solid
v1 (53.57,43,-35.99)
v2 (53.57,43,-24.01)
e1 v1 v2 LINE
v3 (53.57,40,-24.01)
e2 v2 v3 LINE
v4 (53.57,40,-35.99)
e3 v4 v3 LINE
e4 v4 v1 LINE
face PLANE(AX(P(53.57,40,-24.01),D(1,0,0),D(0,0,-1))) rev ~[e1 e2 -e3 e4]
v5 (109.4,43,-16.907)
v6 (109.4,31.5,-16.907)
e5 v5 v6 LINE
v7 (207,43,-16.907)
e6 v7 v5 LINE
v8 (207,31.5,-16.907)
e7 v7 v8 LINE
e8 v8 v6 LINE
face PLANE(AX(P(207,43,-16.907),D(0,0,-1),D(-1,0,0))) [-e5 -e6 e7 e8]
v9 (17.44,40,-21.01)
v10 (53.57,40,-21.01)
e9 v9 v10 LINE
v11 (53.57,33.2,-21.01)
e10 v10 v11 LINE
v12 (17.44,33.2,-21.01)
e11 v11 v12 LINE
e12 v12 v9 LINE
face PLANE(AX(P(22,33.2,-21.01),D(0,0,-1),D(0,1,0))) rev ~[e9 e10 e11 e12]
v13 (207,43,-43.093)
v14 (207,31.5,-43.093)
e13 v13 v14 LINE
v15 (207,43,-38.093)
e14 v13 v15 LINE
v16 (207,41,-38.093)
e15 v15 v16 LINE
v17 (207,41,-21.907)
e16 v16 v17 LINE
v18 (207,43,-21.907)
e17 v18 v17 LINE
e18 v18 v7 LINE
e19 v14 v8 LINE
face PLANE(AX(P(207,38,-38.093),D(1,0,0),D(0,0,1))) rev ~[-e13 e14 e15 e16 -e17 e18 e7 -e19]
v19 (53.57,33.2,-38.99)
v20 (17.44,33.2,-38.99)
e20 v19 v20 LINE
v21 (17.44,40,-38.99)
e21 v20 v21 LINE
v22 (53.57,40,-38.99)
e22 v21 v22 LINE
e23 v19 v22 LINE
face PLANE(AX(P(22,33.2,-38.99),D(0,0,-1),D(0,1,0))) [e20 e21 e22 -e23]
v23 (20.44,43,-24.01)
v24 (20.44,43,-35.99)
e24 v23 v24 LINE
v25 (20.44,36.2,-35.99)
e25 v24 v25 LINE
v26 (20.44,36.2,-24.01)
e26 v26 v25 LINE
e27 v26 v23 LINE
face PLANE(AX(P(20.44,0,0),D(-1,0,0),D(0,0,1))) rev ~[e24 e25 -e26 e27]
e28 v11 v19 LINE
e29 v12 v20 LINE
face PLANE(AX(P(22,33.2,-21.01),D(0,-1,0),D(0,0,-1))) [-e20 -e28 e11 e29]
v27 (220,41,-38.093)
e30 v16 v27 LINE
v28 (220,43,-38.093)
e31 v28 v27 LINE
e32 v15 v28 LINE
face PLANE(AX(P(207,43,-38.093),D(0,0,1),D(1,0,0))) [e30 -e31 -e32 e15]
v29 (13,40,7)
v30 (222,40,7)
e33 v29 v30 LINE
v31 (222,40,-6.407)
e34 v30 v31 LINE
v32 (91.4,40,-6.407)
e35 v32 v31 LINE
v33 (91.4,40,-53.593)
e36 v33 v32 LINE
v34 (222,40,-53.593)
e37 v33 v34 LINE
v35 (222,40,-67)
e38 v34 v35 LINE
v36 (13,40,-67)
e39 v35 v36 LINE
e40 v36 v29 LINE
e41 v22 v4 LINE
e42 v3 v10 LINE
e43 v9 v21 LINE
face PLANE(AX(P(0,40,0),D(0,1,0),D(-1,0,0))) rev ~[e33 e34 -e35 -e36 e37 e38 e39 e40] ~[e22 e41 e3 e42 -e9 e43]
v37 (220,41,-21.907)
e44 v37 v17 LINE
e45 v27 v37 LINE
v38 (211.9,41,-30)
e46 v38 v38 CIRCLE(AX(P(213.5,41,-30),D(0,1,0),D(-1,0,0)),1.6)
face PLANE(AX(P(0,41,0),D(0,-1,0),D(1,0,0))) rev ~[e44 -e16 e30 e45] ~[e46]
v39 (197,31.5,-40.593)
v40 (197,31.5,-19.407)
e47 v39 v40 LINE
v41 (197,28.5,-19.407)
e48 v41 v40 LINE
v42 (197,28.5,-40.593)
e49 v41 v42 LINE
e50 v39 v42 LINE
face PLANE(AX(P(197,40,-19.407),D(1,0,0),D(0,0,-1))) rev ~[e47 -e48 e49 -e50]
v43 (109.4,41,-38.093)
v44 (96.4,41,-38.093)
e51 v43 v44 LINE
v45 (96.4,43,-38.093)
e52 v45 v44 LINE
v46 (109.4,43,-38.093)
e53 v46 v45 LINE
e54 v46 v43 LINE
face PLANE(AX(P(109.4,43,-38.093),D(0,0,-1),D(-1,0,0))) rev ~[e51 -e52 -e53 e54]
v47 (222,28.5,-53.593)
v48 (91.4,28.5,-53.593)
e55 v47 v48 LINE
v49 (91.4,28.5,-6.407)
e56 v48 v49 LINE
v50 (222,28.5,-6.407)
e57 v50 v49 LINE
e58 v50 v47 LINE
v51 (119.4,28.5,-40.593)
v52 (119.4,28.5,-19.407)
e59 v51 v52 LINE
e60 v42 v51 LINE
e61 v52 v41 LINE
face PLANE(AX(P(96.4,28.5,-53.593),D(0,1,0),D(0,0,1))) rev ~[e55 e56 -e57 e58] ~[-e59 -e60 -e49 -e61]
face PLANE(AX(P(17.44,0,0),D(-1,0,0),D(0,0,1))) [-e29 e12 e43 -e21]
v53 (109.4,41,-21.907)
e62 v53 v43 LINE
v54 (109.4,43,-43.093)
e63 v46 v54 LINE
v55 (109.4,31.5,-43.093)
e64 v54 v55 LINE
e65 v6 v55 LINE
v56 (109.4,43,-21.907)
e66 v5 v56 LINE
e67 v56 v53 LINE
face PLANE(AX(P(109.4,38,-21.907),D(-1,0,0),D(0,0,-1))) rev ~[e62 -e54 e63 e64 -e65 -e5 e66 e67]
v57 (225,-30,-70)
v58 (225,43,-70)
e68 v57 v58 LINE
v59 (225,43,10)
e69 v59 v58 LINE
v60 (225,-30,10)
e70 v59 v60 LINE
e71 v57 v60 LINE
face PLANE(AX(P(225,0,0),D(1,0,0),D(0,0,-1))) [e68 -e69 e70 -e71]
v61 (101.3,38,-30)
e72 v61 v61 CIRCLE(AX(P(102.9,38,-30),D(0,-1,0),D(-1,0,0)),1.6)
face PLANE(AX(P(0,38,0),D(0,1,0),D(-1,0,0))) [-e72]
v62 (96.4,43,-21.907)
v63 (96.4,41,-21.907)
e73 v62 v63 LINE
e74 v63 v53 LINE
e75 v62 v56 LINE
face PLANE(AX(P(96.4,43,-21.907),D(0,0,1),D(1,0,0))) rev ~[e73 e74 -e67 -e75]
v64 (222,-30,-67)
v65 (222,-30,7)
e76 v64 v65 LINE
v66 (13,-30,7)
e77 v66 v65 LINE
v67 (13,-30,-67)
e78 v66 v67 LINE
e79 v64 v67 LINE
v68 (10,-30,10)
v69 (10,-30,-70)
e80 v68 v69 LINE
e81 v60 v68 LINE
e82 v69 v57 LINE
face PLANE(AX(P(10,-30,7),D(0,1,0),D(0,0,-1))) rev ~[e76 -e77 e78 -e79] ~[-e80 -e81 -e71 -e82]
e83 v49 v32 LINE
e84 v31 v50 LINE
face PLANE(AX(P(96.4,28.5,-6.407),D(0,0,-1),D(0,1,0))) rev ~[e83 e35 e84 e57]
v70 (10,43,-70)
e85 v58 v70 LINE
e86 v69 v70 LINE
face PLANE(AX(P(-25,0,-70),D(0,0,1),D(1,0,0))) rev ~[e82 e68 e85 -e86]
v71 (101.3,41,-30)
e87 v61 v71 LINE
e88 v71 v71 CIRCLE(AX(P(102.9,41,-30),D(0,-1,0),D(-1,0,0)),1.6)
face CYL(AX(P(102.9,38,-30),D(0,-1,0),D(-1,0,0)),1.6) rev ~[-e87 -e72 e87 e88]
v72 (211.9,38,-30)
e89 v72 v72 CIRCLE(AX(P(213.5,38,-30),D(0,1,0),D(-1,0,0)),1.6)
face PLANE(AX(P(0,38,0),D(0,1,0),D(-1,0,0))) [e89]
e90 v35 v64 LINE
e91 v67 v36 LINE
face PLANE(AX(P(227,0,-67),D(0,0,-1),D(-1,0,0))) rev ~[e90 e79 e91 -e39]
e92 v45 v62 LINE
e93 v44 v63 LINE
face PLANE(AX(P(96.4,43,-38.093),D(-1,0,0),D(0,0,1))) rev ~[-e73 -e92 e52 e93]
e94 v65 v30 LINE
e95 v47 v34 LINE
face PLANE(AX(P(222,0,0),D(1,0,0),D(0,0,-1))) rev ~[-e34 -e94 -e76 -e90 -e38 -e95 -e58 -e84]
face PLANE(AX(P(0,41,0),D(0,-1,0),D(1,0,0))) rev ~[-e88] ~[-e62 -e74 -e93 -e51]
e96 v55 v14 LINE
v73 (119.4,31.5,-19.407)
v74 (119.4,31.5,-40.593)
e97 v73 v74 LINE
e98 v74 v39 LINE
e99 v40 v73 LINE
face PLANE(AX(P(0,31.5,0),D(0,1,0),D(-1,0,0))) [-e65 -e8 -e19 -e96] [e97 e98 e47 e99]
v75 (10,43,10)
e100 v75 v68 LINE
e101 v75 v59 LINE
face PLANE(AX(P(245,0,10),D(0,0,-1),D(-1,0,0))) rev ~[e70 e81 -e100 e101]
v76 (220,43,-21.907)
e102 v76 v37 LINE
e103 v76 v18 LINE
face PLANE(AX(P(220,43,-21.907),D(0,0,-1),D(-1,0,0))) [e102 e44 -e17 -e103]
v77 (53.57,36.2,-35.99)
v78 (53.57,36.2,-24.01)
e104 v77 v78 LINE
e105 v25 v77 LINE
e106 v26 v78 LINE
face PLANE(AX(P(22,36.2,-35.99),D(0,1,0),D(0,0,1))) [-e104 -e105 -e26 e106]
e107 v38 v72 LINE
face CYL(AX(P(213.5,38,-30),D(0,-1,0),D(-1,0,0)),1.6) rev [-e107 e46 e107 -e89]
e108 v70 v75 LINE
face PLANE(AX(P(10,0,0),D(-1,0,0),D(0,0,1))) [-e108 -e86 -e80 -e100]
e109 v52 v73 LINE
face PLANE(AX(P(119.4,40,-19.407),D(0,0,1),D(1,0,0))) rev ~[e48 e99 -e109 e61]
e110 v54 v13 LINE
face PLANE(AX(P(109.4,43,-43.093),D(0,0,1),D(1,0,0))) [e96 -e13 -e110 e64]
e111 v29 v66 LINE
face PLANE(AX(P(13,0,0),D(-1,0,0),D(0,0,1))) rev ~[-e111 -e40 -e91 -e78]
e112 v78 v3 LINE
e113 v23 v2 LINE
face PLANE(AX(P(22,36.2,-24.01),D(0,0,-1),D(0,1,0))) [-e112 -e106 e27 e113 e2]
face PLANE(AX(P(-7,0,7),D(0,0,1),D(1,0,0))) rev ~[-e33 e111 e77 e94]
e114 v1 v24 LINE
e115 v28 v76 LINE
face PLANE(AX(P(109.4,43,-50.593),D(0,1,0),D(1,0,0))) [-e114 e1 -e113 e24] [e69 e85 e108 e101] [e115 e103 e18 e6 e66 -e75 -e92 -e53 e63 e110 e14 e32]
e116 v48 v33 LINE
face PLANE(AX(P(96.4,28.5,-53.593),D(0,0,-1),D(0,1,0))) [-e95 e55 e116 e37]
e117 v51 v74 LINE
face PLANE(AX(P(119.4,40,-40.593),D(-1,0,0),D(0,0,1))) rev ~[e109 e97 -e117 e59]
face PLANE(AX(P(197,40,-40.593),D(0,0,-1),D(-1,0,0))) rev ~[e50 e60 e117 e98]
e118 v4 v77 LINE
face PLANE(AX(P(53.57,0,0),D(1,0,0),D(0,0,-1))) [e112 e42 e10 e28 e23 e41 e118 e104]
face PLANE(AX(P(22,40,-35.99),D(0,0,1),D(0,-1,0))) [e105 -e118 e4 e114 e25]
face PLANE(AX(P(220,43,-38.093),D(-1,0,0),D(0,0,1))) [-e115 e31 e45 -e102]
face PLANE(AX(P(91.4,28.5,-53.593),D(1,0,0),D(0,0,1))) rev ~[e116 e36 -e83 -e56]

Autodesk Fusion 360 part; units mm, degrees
sketch "Boceto1" plane through (0, 0, 0) normal (0, 1, 0) x (1, 0, 0)
  line L0 (0, 0) -> (220, 0)
  line L1 (220, 0) -> (220, 60)
  line L2 (220, 60) -> (0, 60)
  line L3 (0, 60) -> (0, 0)
  line L4 (227, -7) -> (227, 67)
  line L5 (227, 67) -> (-7, 67)
  line L6 (-7, 67) -> (-7, -7)
  line L7 (-7, -7) -> (227, -7)
  line L8 (217, 3) -> (217, 57)
  line L9 (217, 57) -> (3, 57)
  line L10 (3, 57) -> (3, 3)
  line L11 (3, 3) -> (217, 3)
  dimension "d1" = 220
  dimension "d2" = 60
  dimension "d3" = 7
  dimension "d4" = -3
extrude "Extruir1" add sketch "Boceto1" along normal blind 3 contours L4 L5 L6 L7
sketch "Boceto2" plane through (0, 0, 0) normal (0, 1, 0) x (1, 0, 0)
  line L0 (0, 0) -> (220, 0)
  line L1 (220, 0) -> (220, 60)
  line L2 (220, 60) -> (0, 60)
  line L3 (0, 60) -> (0, 0)
  line L4 (3, 3) -> (217, 3)
  line L5 (217, 3) -> (217, 57)
  line L6 (217, 57) -> (3, 57)
  line L7 (3, 57) -> (3, 3)
  dimension "d7" = -3
extrude "Extruir2" add sketch "Boceto2" along normal blind 40
sketch "Boceto3" plane through (0, 40, 0) normal (0, 1, 0) x (-1, 0, 0)
  line L0 (-3, -3) -> (-3, -57)
  line L1 (-3, -57) -> (-217, -57)
  line L2 (-217, -57) -> (-217, -3)
  line L3 (-217, -3) -> (-3, -3)
  line L4 (0, -60) -> (0, 0)
  line L5 (0, 0) -> (-220, 0)
  line L6 (-220, 0) -> (-220, -60)
  line L7 (-220, -60) -> (0, -60)
  line L8 (0, 0) -> (-220, 0)
  line L9 (-220, 0) -> (-220, -60)
  line L10 (-220, -60) -> (0, -60)
  line L11 (0, -60) -> (0, 0)
  line L12 (0, 0) -> (-220, 0)
  line L13 (-220, 0) -> (-220, -60)
  line L14 (-220, -60) -> (0, -60)
  line L15 (0, -60) -> (0, 0)
extrude "Extruir3" add sketch "Boceto3" along normal blind 3 contours L0 L1 L2 L3 | L4 L5 L6 L7 L8 L9 L10 L11 L12 L13 L14 L15
sketch "Boceto4" plane through (0, 43, 0) normal (0, 1, 0) x (-1, 0, 0)
  line L0 (0, -60) -> (0, 0)
  line L1 (0, 0) -> (-220, 0)
  line L2 (-220, 0) -> (-220, -60)
  line L3 (-220, -60) -> (0, -60)
  line L4 (-25, -35.99) -> (-53.57, -35.99)
  line L5 (-53.57, -35.99) -> (-53.57, -24.01)
  line L6 (-53.57, -24.01) -> (-25, -24.01)
  line L7 (-25, -24.01) -> (-25, -35.99)
  dimension "d15" = 28.57
  dimension "d16" = 11.98
extrude "Extruir4" cut sketch "Boceto4" against normal blind 3 contours L4 L5 L6 L7
sketch "Boceto5" plane through (0, 43, 0) normal (0, 1, 0) x (-1, 0, 0)
  line L0 (-53.57, -35.99) -> (-53.57, -24.01)
  line L1 (-53.57, -24.01) -> (-25, -24.01)
  line L2 (-25, -24.01) -> (-25, -35.99)
  line L3 (-25, -35.99) -> (-53.57, -35.99)
  line L4 (0, -60) -> (0, 0)
  line L5 (0, 0) -> (-220, 0)
  line L6 (-220, 0) -> (-220, -60)
  line L7 (-220, -60) -> (0, -60)
  line L8 (-197, -40.593) -> (-119.4, -40.593)
  line L9 (-119.4, -40.593) -> (-119.4, -19.407)
  line L10 (-119.4, -19.407) -> (-197, -19.407)
  line L11 (-197, -19.407) -> (-197, -40.593)
  point P0 (-220, -30)
  point P1 (-197, -40.593)
  dimension "d22" = 77.6
  dimension "d23" = 21.186
extrude "Extruir5" cut sketch "Boceto5" against normal blind 3 contours L8 L9 L10 L11
sketch "Boceto6" plane through (0, 40, 0) normal (0, -1, 0) x (1, 0, 0)
  line L0 (197, -40.593) -> (119.4, -40.593)
  line L1 (119.4, -40.593) -> (119.4, -19.407)
  line L2 (119.4, -19.407) -> (197, -19.407)
  line L3 (197, -19.407) -> (197, -40.593)
  line L4 (53.57, -24.01) -> (53.57, -35.99)
  line L5 (53.57, -35.99) -> (25, -35.99)
  line L6 (25, -35.99) -> (25, -24.01)
  line L7 (25, -24.01) -> (53.57, -24.01)
  line L8 (217, -3) -> (3, -3)
  line L9 (3, -3) -> (3, -57)
  line L10 (3, -57) -> (217, -57)
  line L11 (217, -57) -> (217, -3)
  line L12 (200, -43.593) -> (116.4, -43.593)
  line L13 (116.4, -43.593) -> (116.4, -16.407)
  line L14 (116.4, -16.407) -> (200, -16.407)
  line L15 (200, -16.407) -> (200, -43.593)
  dimension "d26" = -3
extrude "Extruir6" add sketch "Boceto6" along normal blind 11.5 contours L12 L13 L14 L15
sketch "Boceto7" plane through (0, 43, 0) normal (0, 1, 0) x (-1, 0, 0)
  line L0 (-119.4, -40.593) -> (-197, -40.593)
  line L1 (-197, -40.593) -> (-197, -19.407)
  line L2 (-197, -19.407) -> (-119.4, -19.407)
  line L3 (-119.4, -19.407) -> (-119.4, -40.593)
  line L4 (-53.57, -35.99) -> (-53.57, -24.01)
  line L5 (-53.57, -24.01) -> (-25, -24.01)
  line L6 (-25, -24.01) -> (-25, -35.99)
  line L7 (-25, -35.99) -> (-53.57, -35.99)
  line L8 (0, -60) -> (0, 0)
  line L9 (0, 0) -> (-220, 0)
  line L10 (-220, 0) -> (-220, -60)
  line L11 (-220, -60) -> (0, -60)
  line L12 (0, 0) -> (-220, 0)
  line L13 (-220, 0) -> (-220, -60)
  line L14 (-220, -60) -> (0, -60)
  line L15 (0, -60) -> (0, 0)
  line L16 (-230, -70) -> (10, -70)
  line L17 (10, -70) -> (10, 10)
  line L18 (10, 10) -> (-230, 10)
  line L19 (-230, 10) -> (-230, -70)
  dimension "d29" = 10
extrude "Extruir7" add sketch "Boceto7" against normal blind 43 contours L16 L17 L18 L19
sketch "Boceto8" plane through (0, 43, 0) normal (0, 1, 0) x (-1, 0, 0)
  line L0 (-230, 10) -> (-230, -70)
  line L1 (-230, -70) -> (10, -70)
  line L2 (10, -70) -> (10, 10)
  line L3 (10, 10) -> (-230, 10)
  line L4 (-119.4, -40.593) -> (-197, -40.593)
  line L5 (-197, -40.593) -> (-197, -19.407)
  line L6 (-197, -19.407) -> (-119.4, -19.407)
  line L7 (-119.4, -19.407) -> (-119.4, -40.593)
  line L8 (-53.57, -35.99) -> (-53.57, -24.01)
  line L9 (-53.57, -24.01) -> (-25, -24.01)
  line L10 (-25, -24.01) -> (-25, -35.99)
  line L11 (-25, -35.99) -> (-53.57, -35.99)
sketch "Boceto9" plane through (0, 0, 0) normal (0, -1, 0) x (1, 0, 0)
  line L0 (230, -70) -> (230, 10)
  line L1 (230, 10) -> (-10, 10)
  line L2 (-10, 10) -> (-10, -70)
  line L3 (-10, -70) -> (230, -70)
  line L4 (3, -57) -> (3, -3)
  line L5 (3, -3) -> (217, -3)
  line L6 (217, -3) -> (217, -57)
  line L7 (217, -57) -> (3, -57)
  line L8 (-10, 10) -> (-7, 10)
  line L9 (-7, 10) -> (-7, 7)
  line L10 (-7, 7) -> (-10, 7)
  line L11 (-10, 7) -> (-10, 10)
  line L12 (230, -70) -> (227, -70)
  line L13 (227, -70) -> (227, -67)
  line L14 (227, -67) -> (230, -67)
  line L15 (230, -67) -> (230, -70)
  line L16 (-7, 7) -> (227, 7)
  line L17 (227, 7) -> (227, -67)
  line L18 (227, -67) -> (-7, -67)
  line L19 (-7, -67) -> (-7, 7)
  dimension "d32" = 3
  dimension "d33" = 3
  dimension "d34" = 3
  dimension "d35" = 3
extrude "Extruir8" cut sketch "Boceto9" against normal blind 40 contours L16 L17 L18 L19
sketch "Boceto10" plane through (0, 40, 0) normal (0, -1, 0) x (1, 0, 0)
  line L0 (-7, -67) -> (227, -67)
  line L1 (227, -67) -> (227, 7)
  line L2 (227, 7) -> (-7, 7)
  line L3 (-7, 7) -> (-7, -67)
  line L4 (200, -16.407) -> (200, -43.593)
  line L5 (200, -43.593) -> (116.4, -43.593)
  line L6 (116.4, -43.593) -> (116.4, -16.407)
  line L7 (116.4, -16.407) -> (200, -16.407)
  line L8 (53.57, -24.01) -> (53.57, -35.99)
  line L9 (53.57, -35.99) -> (25, -35.99)
  line L10 (25, -35.99) -> (25, -24.01)
  line L11 (25, -24.01) -> (53.57, -24.01)
  line L12 (56.57, -38.99) -> (22, -38.99)
  line L13 (22, -38.99) -> (22, -21.01)
  line L14 (22, -21.01) -> (56.57, -21.01)
  line L15 (56.57, -21.01) -> (56.57, -38.99)
  dimension "d38" = -3
extrude "Extruir9" add sketch "Boceto10" along normal blind 3.8 contours L12 L13 L14 L15
sketch "Boceto11" plane through (0, 36.2, 0) normal (0, -1, 0) x (1, 0, 0)
  line L0 (25, -35.99) -> (25, -24.01)
  line L1 (25, -24.01) -> (53.57, -24.01)
  line L2 (53.57, -24.01) -> (53.57, -35.99)
  line L3 (53.57, -35.99) -> (25, -35.99)
  line L4 (56.57, -21.01) -> (22, -21.01)
  line L5 (22, -21.01) -> (22, -38.99)
  line L6 (22, -38.99) -> (56.57, -38.99)
  line L7 (56.57, -38.99) -> (56.57, -21.01)
  line L8 (22, -21.01) -> (56.57, -21.01)
  line L9 (56.57, -21.01) -> (56.57, -38.99)
  line L10 (56.57, -38.99) -> (22, -38.99)
  line L11 (22, -38.99) -> (22, -21.01)
extrude "Extruir10" add sketch "Boceto11" along normal blind 3 contours L0 L1 L2 L3 | L4 L5 L6 L7 L8 L9 L10 L11
sketch "Boceto12" plane through (56.57, 0, 0) normal (1, 0, 0) x (0, 0, -1)
  line L0 (38.99, 40) -> (21.01, 40)
  line L1 (21.01, 40) -> (21.01, 33.2)
  line L2 (21.01, 33.2) -> (38.99, 33.2)
  line L3 (38.99, 33.2) -> (38.99, 40)
  line L4 (21.01, 40) -> (24.01, 40)
  line L5 (38.99, 40) -> (35.99, 40)
  line L6 (24.01, 40) -> (35.99, 40)
  line L7 (35.99, 40) -> (35.99, 36.2)
  line L8 (35.99, 36.2) -> (24.01, 36.2)
  line L9 (24.01, 36.2) -> (24.01, 40)
  dimension "d43" = 3
  dimension "d44" = 3
  dimension "d45" = 11.98
  dimension "d46" = 3.8
extrude "Extruir11" cut sketch "Boceto12" against normal blind 3 contours L0 L6 L7 L8 L9
sketch "Boceto13" plane through (56.57, 0, 0) normal (1, 0, 0) x (0, 0, -1)
  line L0 (24.01, 36.2) -> (24.01, 40)
  line L1 (24.01, 40) -> (21.01, 40)
  line L2 (21.01, 40) -> (21.01, 33.2)
  line L3 (21.01, 33.2) -> (38.99, 33.2)
  line L4 (38.99, 33.2) -> (38.99, 40)
  line L5 (38.99, 40) -> (35.99, 40)
  line L6 (35.99, 40) -> (35.99, 36.2)
  line L7 (35.99, 36.2) -> (24.01, 36.2)
  line L8 (21.01, 40) -> (38.99, 40)
  line L9 (38.99, 40) -> (38.99, 33.2)
  line L10 (38.99, 33.2) -> (21.01, 33.2)
  line L11 (21.01, 33.2) -> (21.01, 40)
extrude "Extruir12" cut sketch "Boceto13" against normal blind 3 contours L0 L1 L2 L3 L4 L5 L6 L7 L8 L9 L10 L11
sketch "Boceto14" plane through (25, 0, 0) normal (1, 0, 0) x (0, 0, -1)
  line L0 (35.99, 43) -> (24.01, 43)
  line L1 (24.01, 43) -> (24.01, 36.2)
  line L2 (24.01, 36.2) -> (35.99, 36.2)
  line L3 (35.99, 36.2) -> (35.99, 43)
  line L4 (24.01, 43) -> (35.99, 43)
  line L5 (35.99, 43) -> (35.99, 36.2)
  line L6 (35.99, 36.2) -> (24.01, 36.2)
  line L7 (24.01, 36.2) -> (24.01, 43)
extrude "Extruir13" add sketch "Boceto14" against normal blind 4.56
extrude "Extruir14" add 1 faces at (22, 34.2, -28.0033) along direction (-1, 0, 0) blind 4.56
extrude "Extruir15" cut 1 faces at (25, 40.7333, -31.9967) along direction (-1, 0, 0) blind 4.56
sketch "Boceto15" plane through (17.44, 0, 0) normal (-1, 0, 0) x (0, 0, 1)
  line L0 (-35.99, 36.2) -> (-35.99, 40)
  line L1 (-35.99, 40) -> (-38.99, 40)
  line L2 (-38.99, 40) -> (-38.99, 33.2)
  line L3 (-38.99, 33.2) -> (-21.01, 33.2)
  line L4 (-21.01, 33.2) -> (-21.01, 40)
  line L5 (-21.01, 40) -> (-24.01, 40)
  line L6 (-24.01, 40) -> (-24.01, 36.2)
  line L7 (-24.01, 36.2) -> (-35.99, 36.2)
  line L8 (-38.99, 33.2) -> (-21.01, 33.2)
  line L9 (-21.01, 33.2) -> (-21.01, 40)
  line L10 (-21.01, 40) -> (-38.99, 40)
  line L11 (-38.99, 40) -> (-38.99, 33.2)
extrude "Extruir16" add sketch "Boceto15" against normal blind 3 contours L0 L6 L7 L10
sketch "Boceto16" plane through (0, 0, 0) normal (0, -1, 0) x (1, 0, 0)
  line L0 (227, 7) -> (227, -67)
  line L1 (227, -67) -> (-7, -67)
  line L2 (-7, -67) -> (-7, 7)
  line L3 (-7, 7) -> (227, 7)
  line L4 (230, -70) -> (230, 10)
  line L5 (230, 10) -> (-10, 10)
  line L6 (-10, 10) -> (-10, -70)
  line L7 (-10, -70) -> (230, -70)
  line L8 (230, 10) -> (245, 10)
  line L9 (245, 10) -> (245, -70)
  line L10 (245, -70) -> (230, -70)
  line L11 (230, -70) -> (230, 10)
  line L12 (-10, 10) -> (-25, 10)
  line L13 (-25, 10) -> (-25, -70)
  line L14 (-25, -70) -> (-10, -70)
  line L15 (-10, -70) -> (-10, 10)
  dimension "d59" = 15
  dimension "d60" = 80
  dimension "d61" = 15
  dimension "d62" = 80
extrude "Extruir17" add sketch "Boceto16" against normal blind 3 contours L4 L8 L9 L10 L11 | L6 L12 L13 L14 L15
sketch "Boceto17" plane through (0, 3, 0) normal (0, 1, 0) x (-1, 0, 0)
  line L0 (10, 10) -> (10, -70)
  line L1 (10, -70) -> (25, -70)
  line L2 (25, -70) -> (25, 10)
  line L3 (25, 10) -> (10, 10)
  circle A0 centre (17.5, 1.5623) radius 3.375
  circle A1 centre (16.8728, -62.4918) radius 3.375
  circle A2 centre (-237.4689, -62.1794) radius 3.375
  circle A3 centre (-237.1564, 2.4997) radius 3.375
  dimension "d65" = 6.75
  dimension "d66" = 6.75
  dimension "d67" = 6.75
  dimension "d68" = 6.75
extrude "Extruir18" cut sketch "Boceto17" against normal blind 3 contours A0 | A1 | A2 | A3
sketch "Boceto18" plane through (0, 0, 0) normal (0, -1, 0) x (1, 0, 0)
  line L0 (245, 10) -> (-25, 10)
  line L1 (-25, 10) -> (-25, -70)
  line L2 (-25, -70) -> (245, -70)
  line L3 (245, -70) -> (245, 10)
  line L4 (227, 7) -> (227, -67)
  line L5 (227, -67) -> (-7, -67)
  line L6 (-7, -67) -> (-7, 7)
  line L7 (-7, 7) -> (227, 7)
  circle A0 centre (237.4689, -62.1794) radius 3.375
  circle A1 centre (-16.8728, -62.4918) radius 3.375
  circle A2 centre (237.1564, 2.4997) radius 3.375
  circle A3 centre (-17.5, 1.5623) radius 3.375
  line L8 (-25, 10) -> (245, 10)
  line L9 (245, 10) -> (245, -70)
  line L10 (245, -70) -> (-25, -70)
  line L11 (-25, -70) -> (-25, 10)
extrude "Extruir19" add sketch "Boceto18" along normal blind 30
sketch "Boceto19" plane through (0, 3, 0) normal (0, 1, 0) x (-1, 0, 0)
  circle A0 centre (17.5, 1.5623) radius 3.375
  circle A1 centre (16.8728, -62.4918) radius 3.375
  line L0 (10, 10) -> (10, -70)
  line L1 (10, -70) -> (25, -70)
  line L2 (25, -70) -> (25, 10)
  line L3 (25, 10) -> (10, 10)
  line L4 (25, -70) -> (10, -70)
  line L5 (10, -70) -> (10, 10)
  line L6 (10, 10) -> (25, 10)
  line L7 (25, 10) -> (25, -70)
  line L8 (-230, -70) -> (-245, -70)
  line L9 (-245, -70) -> (-245, 10)
  line L10 (-245, 10) -> (-230, 10)
  line L11 (-230, 10) -> (-230, -70)
extrude "Extruir20" cut sketch "Boceto19" against normal blind 25
sketch "Boceto20" plane through (0, 43, 0) normal (0, 1, 0) x (-1, 0, 0)
  line L0 (-230, 10) -> (-230, -70)
  line L1 (-230, -70) -> (10, -70)
  line L2 (10, -70) -> (10, 10)
  line L3 (10, 10) -> (-230, 10)
  line L4 (-119.4, -40.593) -> (-197, -40.593)
  line L5 (-197, -40.593) -> (-197, -19.407)
  line L6 (-197, -19.407) -> (-119.4, -19.407)
  line L7 (-119.4, -19.407) -> (-119.4, -40.593)
  line L8 (-53.57, -24.01) -> (-20.44, -24.01)
  line L9 (-20.44, -24.01) -> (-20.44, -35.99)
  line L10 (-20.44, -35.99) -> (-53.57, -35.99)
  line L11 (-53.57, -35.99) -> (-53.57, -24.01)
  line L12 (-197, -19.407) -> (-119.4, -19.407)
  line L13 (-119.4, -19.407) -> (-119.4, -40.593)
  line L14 (-119.4, -40.593) -> (-197, -40.593)
  line L15 (-197, -40.593) -> (-197, -19.407)
  line L16 (-207, -50.593) -> (-207, -9.407)
  line L17 (-207, -9.407) -> (-109.4, -9.407)
  line L18 (-109.4, -9.407) -> (-109.4, -50.593)
  line L19 (-109.4, -50.593) -> (-207, -50.593)
  dimension "d75" = -10
extrude "Extruir21" add sketch "Boceto20" against normal blind 14.5 contours L16 L17 L18 L19
sketch "Boceto21" plane through (0, 28.5, 0) normal (0, -1, 0) x (1, 0, 0)
  line L0 (109.4, -9.407) -> (109.4, -50.593)
  line L1 (109.4, -50.593) -> (207, -50.593)
  line L2 (207, -50.593) -> (207, -9.407)
  line L3 (207, -9.407) -> (109.4, -9.407)
  line L4 (119.4, -19.407) -> (197, -19.407)
  line L5 (197, -19.407) -> (197, -40.593)
  line L6 (197, -40.593) -> (119.4, -40.593)
  line L7 (119.4, -40.593) -> (119.4, -19.407)
  line L8 (207, -50.593) -> (109.4, -50.593)
  line L9 (109.4, -50.593) -> (109.4, -9.407)
  line L10 (109.4, -9.407) -> (207, -9.407)
  line L11 (207, -9.407) -> (207, -50.593)
  line L12 (210, -6.407) -> (210, -53.593)
  line L13 (210, -53.593) -> (106.4, -53.593)
  line L14 (106.4, -53.593) -> (106.4, -6.407)
  line L15 (106.4, -6.407) -> (210, -6.407)
  dimension "d78" = -3
extrude "Extruir22" add sketch "Boceto21" against normal blind 11.5 contours L12 L13 L14 L15
sketch "Boceto22" plane through (0, 43, 0) normal (0, 1, 0) x (-1, 0, 0)
  line L0 (-119.4, -40.593) -> (-197, -40.593)
  line L1 (-197, -40.593) -> (-197, -19.407)
  line L2 (-197, -19.407) -> (-119.4, -19.407)
  line L3 (-119.4, -19.407) -> (-119.4, -40.593)
  line L4 (-230, 10) -> (-230, -70)
  line L5 (-230, -70) -> (10, -70)
  line L6 (10, -70) -> (10, 10)
  line L7 (10, 10) -> (-230, 10)
  line L8 (-53.57, -24.01) -> (-20.44, -24.01)
  line L9 (-20.44, -24.01) -> (-20.44, -35.99)
  line L10 (-20.44, -35.99) -> (-53.57, -35.99)
  line L11 (-53.57, -35.99) -> (-53.57, -24.01)
  line L12 (-197, -19.407) -> (-119.4, -19.407)
  line L13 (-119.4, -19.407) -> (-119.4, -40.593)
  line L14 (-119.4, -40.593) -> (-197, -40.593)
  line L15 (-197, -40.593) -> (-197, -19.407)
  line L16 (-207, -50.593) -> (-207, -9.407)
  line L17 (-207, -9.407) -> (-109.4, -9.407)
  line L18 (-109.4, -9.407) -> (-109.4, -50.593)
  line L19 (-109.4, -50.593) -> (-207, -50.593)
  dimension "d81" = -10
extrude "Extruir23" cut sketch "Boceto22" against normal blind 11.5 contours L16 L17 L18 L19
extrude "Extruir24" add 1 faces at (174.4667, 39.1667, -9.407) along direction (0, 0, -1) blind 7.5
extrude "Extruir25" add 1 faces at (141.9333, 39.1667, -50.593) along direction (0, 0, 1) blind 7.5
extrude "Extruir26" add 1 faces at (106.4, 32.3333, -37.8643) along direction (-1, 0, 0) blind 10
extrude "Extruir27" add 1 faces at (210, 32.3333, -22.1357) along direction (1, 0, 0) blind 17
sketch "Boceto23" plane through (0, 28.5, 0) normal (0, -1, 0) x (1, 0, 0)
  line L0 (96.4, -53.593) -> (227, -53.593)
  line L1 (227, -53.593) -> (227, -6.407)
  line L2 (227, -6.407) -> (96.4, -6.407)
  line L3 (96.4, -6.407) -> (96.4, -53.593)
  line L4 (119.4, -19.407) -> (197, -19.407)
  line L5 (197, -19.407) -> (197, -40.593)
  line L6 (197, -40.593) -> (119.4, -40.593)
  line L7 (119.4, -40.593) -> (119.4, -19.407)
  line L8 (96.4, -29.997) -> (227, -30)
  circle A0 centre (101.1931, -29.997) radius 3.375
  circle A1 centre (214.3398, -29.9985) radius 3.375
  dimension "d93" = 6.75
  dimension "d94" = 6.75
extrude "Extruir28" cut sketch "Boceto23" against normal blind 14.5 contours L8 A0 | L8 A0 | L8 A1 | L8 A1
sketch "Boceto24" plane through (0, 43, 0) normal (0, 1, 0) x (-1, 0, 0)
  circle A0 centre (-214.3398, -29.9985) radius 3.375
  circle A1 centre (-101.1931, -29.997) radius 3.375
  line L0 (-109.4, -16.907) -> (-109.4, -43.093)
  line L1 (-109.4, -43.093) -> (-207, -43.093)
  line L2 (-207, -43.093) -> (-207, -16.907)
  line L3 (-207, -16.907) -> (-109.4, -16.907)
  line L4 (-230, 10) -> (-230, -70)
  line L5 (-230, -70) -> (10, -70)
  line L6 (10, -70) -> (10, 10)
  line L7 (10, 10) -> (-230, 10)
  line L8 (-53.57, -24.01) -> (-20.44, -24.01)
  line L9 (-20.44, -24.01) -> (-20.44, -35.99)
  line L10 (-20.44, -35.99) -> (-53.57, -35.99)
  line L11 (-53.57, -35.99) -> (-53.57, -24.01)
  line L12 (-207, -16.907) -> (-207, -22.407)
  line L13 (-207, -22.407) -> (-220.2736, -22.407)
  line L14 (-220.2736, -22.407) -> (-220.2736, -37.593)
  line L15 (-220.2736, -37.593) -> (-207, -37.593)
  line L16 (-207, -37.593) -> (-207, -22.407)
  dimension "d98" = 5.5
  dimension "d99" = 15.186
extrude "Extruir29" cut sketch "Boceto24" against normal blind 3 contours L2 L13 L14 L15 L16
sketch "Boceto25" plane through (0, 43, 0) normal (0, 1, 0) x (-1, 0, 0)
  line L0 (-220.2736, -22.407) -> (-207, -22.407)
  line L1 (-207, -22.407) -> (-207, -16.907)
  line L2 (-207, -16.907) -> (-109.4, -16.907)
  line L3 (-109.4, -16.907) -> (-109.4, -43.093)
  line L4 (-109.4, -43.093) -> (-207, -43.093)
  line L5 (-207, -43.093) -> (-207, -37.593)
  line L6 (-207, -37.593) -> (-220.2736, -37.593)
  line L7 (-220.2736, -37.593) -> (-220.2736, -22.407)
  circle A0 centre (-101.1931, -29.997) radius 3.375
  line L8 (-230, 10) -> (-230, -70)
  line L9 (-230, -70) -> (10, -70)
  line L10 (10, -70) -> (10, 10)
  line L11 (10, 10) -> (-230, 10)
  line L12 (-53.57, -24.01) -> (-20.44, -24.01)
  line L13 (-20.44, -24.01) -> (-20.44, -35.99)
  line L14 (-20.44, -35.99) -> (-53.57, -35.99)
  line L15 (-53.57, -35.99) -> (-53.57, -24.01)
  line L16 (-207, -22.407) -> (-85.5036, -22.407)
  line L17 (-109.4, -22.407) -> (-96.126, -22.407)
  line L18 (-96.126, -22.407) -> (-96.126, -37.593)
  line L19 (-96.126, -37.593) -> (-109.4, -37.593)
  line L20 (-109.4, -37.593) -> (-109.4, -22.407)
  dimension "d102" = 13.274
  dimension "d103" = 15.186
extrude "Extruir30" cut sketch "Boceto25" against normal blind 3 contours L3 L16 L17 L18 L19 L20
extrude "Extruir31" add 1 faces at (96.4, 32.3333, -32.531) along direction (-1, 0, 0) blind 5
extrude "Extruir32" cut 1 faces at (96.126, 42, -27.469) along direction (-1, 0, 0) blind 1
sketch "Boceto26" plane through (0, 28.5, 0) normal (0, -1, 0) x (1, 0, 0)
  circle A0 centre (214.3398, -29.9985) radius 3.375
  circle A1 centre (101.1931, -29.997) radius 3.375
  line L0 (91.4, -53.593) -> (227, -53.593)
  line L1 (227, -53.593) -> (227, -6.407)
  line L2 (227, -6.407) -> (91.4, -6.407)
  line L3 (91.4, -6.407) -> (91.4, -53.593)
  line L4 (119.4, -19.407) -> (197, -19.407)
  line L5 (197, -19.407) -> (197, -40.593)
  line L6 (197, -40.593) -> (119.4, -40.593)
  line L7 (119.4, -40.593) -> (119.4, -19.407)
  line L8 (96.7391, -25.3343) -> (105, -25.3343)
  line L9 (105, -25.3343) -> (105, -35)
  line L10 (105, -35) -> (96.7391, -35)
  line L11 (96.7391, -35) -> (96.7391, -25.3343)
  line L12 (210.0534, -25.3343) -> (218.8583, -25.3343)
  line L13 (218.8583, -25.3343) -> (218.8583, -33.797)
  line L14 (218.8583, -33.797) -> (210.0534, -33.797)
  line L15 (210.0534, -33.797) -> (210.0534, -25.3343)
extrude "Extruir33" add sketch "Boceto26" against normal blind 7 contours A0 | A1 | L8 L9 L10 L11 | L12 L13 L14 L15
sketch "Boceto27" plane through (0, 43, 0) normal (0, 1, 0) x (-1, 0, 0)
  line L0 (-95.126, -37.593) -> (-109.4, -37.593)
  line L1 (-109.4, -37.593) -> (-109.4, -43.093)
  line L2 (-109.4, -43.093) -> (-207, -43.093)
  line L3 (-207, -43.093) -> (-207, -37.593)
  line L4 (-207, -37.593) -> (-220.2736, -37.593)
  line L5 (-220.2736, -37.593) -> (-220.2736, -22.407)
  line L6 (-220.2736, -22.407) -> (-207, -22.407)
  line L7 (-207, -22.407) -> (-207, -16.907)
  line L8 (-207, -16.907) -> (-109.4, -16.907)
  line L9 (-109.4, -16.907) -> (-109.4, -22.407)
  line L10 (-109.4, -22.407) -> (-95.126, -22.407)
  line L11 (-95.126, -22.407) -> (-95.126, -37.593)
  line L12 (-230, 10) -> (-230, -70)
  line L13 (-230, -70) -> (10, -70)
  line L14 (10, -70) -> (10, 10)
  line L15 (10, 10) -> (-230, 10)
  line L16 (-53.57, -24.01) -> (-20.44, -24.01)
  line L17 (-20.44, -24.01) -> (-20.44, -35.99)
  line L18 (-20.44, -35.99) -> (-53.57, -35.99)
  line L19 (-53.57, -35.99) -> (-53.57, -24.01)
  line L20 (-95.126, -37.593) -> (-109.4, -37.593)
  line L21 (-109.4, -37.593) -> (-109.4, -22.407)
  line L22 (-109.4, -22.407) -> (-95.126, -22.407)
  line L23 (-95.126, -22.407) -> (-95.126, -37.593)
  line L24 (-220.2736, -37.593) -> (-207, -37.593)
  line L25 (-207, -37.593) -> (-207, -22.407)
  line L26 (-207, -22.407) -> (-220.2736, -22.407)
  line L27 (-220.2736, -22.407) -> (-220.2736, -37.593)
  point P0 (-95.126, -37.593)
  point P1 (-109.4, -22.407)
  point P2 (-220.2736, -37.593)
  point P3 (-207, -22.407)
extrude "Extruir34" add sketch "Boceto27" against normal blind 3 contours L0 L10 L11 L20 L21 L22 L23 | L4 L5 L6 L24 L25 L26 L27
sketch "Boceto28" plane through (0, 43, 0) normal (0, 1, 0) x (-1, 0, 0)
  line L0 (-109.4, -16.907) -> (-109.4, -43.093)
  line L1 (-109.4, -43.093) -> (-207, -43.093)
  line L2 (-207, -43.093) -> (-207, -16.907)
  line L3 (-207, -16.907) -> (-109.4, -16.907)
  line L4 (-230, 10) -> (-230, -70)
  line L5 (-230, -70) -> (10, -70)
  line L6 (10, -70) -> (10, 10)
  line L7 (10, 10) -> (-230, 10)
  line L8 (-53.57, -24.01) -> (-20.44, -24.01)
  line L9 (-20.44, -24.01) -> (-20.44, -35.99)
  line L10 (-20.44, -35.99) -> (-53.57, -35.99)
  line L11 (-53.57, -35.99) -> (-53.57, -24.01)
  line L12 (-109.4, -43.093) -> (-109.4, -38.093)
  line L13 (-109.4, -38.093) -> (-96.4, -38.093)
  line L14 (-96.4, -38.093) -> (-96.4, -21.907)
  line L15 (-96.4, -21.907) -> (-109.4, -21.907)
  line L16 (-109.4, -21.907) -> (-109.4, -38.093)
  line L17 (-207, -43.093) -> (-207, -38.093)
  line L18 (-207, -38.093) -> (-220, -38.093)
  line L19 (-220, -38.093) -> (-220, -21.907)
  line L20 (-220, -21.907) -> (-207, -21.907)
  line L21 (-207, -21.907) -> (-207, -38.093)
  dimension "d114" = 5
  dimension "d115" = 13
  dimension "d116" = 16.186
  dimension "d117" = 5
  dimension "d118" = 13
  dimension "d119" = 16.186
extrude "Extruir35" cut sketch "Boceto28" against normal blind 5 contours L0 L13 L14 L15 L16 | L2 L18 L19 L20 L21
sketch "Boceto29" plane through (0, 38, 0) normal (0, 1, 0) x (-1, 0, 0)
  circle A0 centre (-101.1931, -29.997) radius 3.375
  line L0 (-109.4, -21.907) -> (-109.4, -38.093)
  line L1 (-109.4, -38.093) -> (-96.4, -38.093)
  line L2 (-96.4, -38.093) -> (-96.4, -21.907)
  line L3 (-96.4, -21.907) -> (-109.4, -21.907)
  line L4 (-109.4, -38.093) -> (-96.4, -38.093)
  line L5 (-96.4, -38.093) -> (-96.4, -21.907)
  line L6 (-96.4, -21.907) -> (-109.4, -21.907)
  line L7 (-109.4, -21.907) -> (-109.4, -38.093)
extrude "Extruir36" add 1 faces at (101.7722, 35.5, -28.9498) along direction (0, 1, 0) blind 2.5
extrude "Extruir37" add 1 faces at (212.977, 35.5, -30.9276) along direction (0, 1, 0) blind 2.5
sketch "Boceto30" plane through (0, 38, 0) normal (0, 1, 0) x (-1, 0, 0)
  line L0 (-109.4, -21.907) -> (-109.4, -38.093)
  line L1 (-109.4, -38.093) -> (-96.4, -38.093)
  line L2 (-96.4, -38.093) -> (-96.4, -21.907)
  line L3 (-96.4, -21.907) -> (-109.4, -21.907)
  line L4 (-109.4, -38.093) -> (-109.4, -30)
  line L5 (-109.4, -30) -> (-102.9, -30)
  circle A0 centre (-102.9, -30) radius 1.6
  dimension "d126" = 8.093
  dimension "d127" = 6.5
  dimension "d128" = 3.2
extrude "Extruir38" cut sketch "Boceto30" against normal blind 3 contours A0
sketch "Boceto31" plane through (0, 38, 0) normal (0, 1, 0) x (-1, 0, 0)
  line L0 (-207, -21.907) -> (-220, -21.907)
  line L1 (-220, -21.907) -> (-220, -38.093)
  line L2 (-220, -38.093) -> (-207, -38.093)
  line L3 (-207, -38.093) -> (-207, -21.907)
  line L4 (-207, -38.093) -> (-207, -30)
  circle A0 centre (-213.5, -30) radius 1.6
  dimension "d133" = 3.2
extrude "Extruir39" cut sketch "Boceto31" against normal blind 3 contours A0
extrude "Extruir40" add 1 faces at (102.9399, 38, -24.0728) along direction (0, 1, 0) blind 3
extrude "Extruir41" add 1 faces at (213.5399, 38, -24.0728) along direction (0, 1, 0) blind 3
extrude "Extruir42" add 1 faces at (103.1667, 35, -30.9247) along direction (0, 1, 0) blind 3
extrude "Extruir43" add 1 faces at (213.109, 35, -29.4783) along direction (0, 1, 0) blind 3
extrude "Extruir44" cut 1 faces at (-17.5841, -22, 8.3093) along direction (0, -1, 0) blind 7
extrude "Extruir45" cut 1 faces at (-17.5841, -29, 8.3093) along direction (0, -1, 0) blind 1
extrude "Extruir46" cut 1 faces at (243.5647, -22, -40.3949) along direction (0, -1, 0) blind 8
extrude "Extruir47" cut 1 faces at (-10, 18.6667, -16.6667) along direction (1, 0, 0) blind 10
sketch "Boceto32" plane through (0, 0, 0) normal (-1, 0, 0) x (0, 0, 1)
  line L0 (-67, -30) -> (-67, 40)
  line L1 (-67, 40) -> (7, 40)
  line L2 (7, 40) -> (7, -30)
  line L3 (7, -30) -> (10, -30)
  line L4 (10, -30) -> (10, 43)
  line L5 (10, 43) -> (-70, 43)
  line L6 (-70, 43) -> (-70, -30)
  line L7 (-70, -30) -> (-67, -30)
  line L8 (-70, 43) -> (10, 43)
  line L9 (10, 43) -> (10, -30)
  line L10 (10, -30) -> (-70, -30)
  line L11 (-70, -30) -> (-70, 43)
extrude "Extruir48" add sketch "Boceto32" against normal blind 3 contours L0 L1 L2 L10
extrude "Extruir49" cut 1 faces at (230, 18.6667, -16.6667) along direction (-1, 0, 0) blind 5
sketch "Boceto33" plane through (225, 0, 0) normal (1, 0, 0) x (0, 0, -1)
  line L0 (-7, -30) -> (-7, 40)
  line L1 (-7, 40) -> (6.407, 40)
  line L2 (6.407, 40) -> (6.407, 28.5)
  line L3 (6.407, 28.5) -> (53.593, 28.5)
  line L4 (53.593, 28.5) -> (53.593, 40)
  line L5 (53.593, 40) -> (67, 40)
  line L6 (67, 40) -> (67, -30)
  line L7 (67, -30) -> (70, -30)
  line L8 (70, -30) -> (70, 43)
  line L9 (70, 43) -> (-10, 43)
  line L10 (-10, 43) -> (-10, -30)
  line L11 (-10, -30) -> (-7, -30)
  line L12 (-10, 43) -> (70, 43)
  line L13 (70, 43) -> (70, -30)
  line L14 (70, -30) -> (-10, -30)
  line L15 (-10, -30) -> (-10, 43)
extrude "Extruir50" add sketch "Boceto33" against normal blind 3 contours L0 L1 L2 L3 L4 L5 L6 L14
extrude "Extruir51" cut 1 faces at (0, -5.6667, -16.6667) along direction (1, 0, 0) blind 10
sketch "Boceto34" plane through (10, 0, 0) normal (-1, 0, 0) x (0, 0, 1)
  line L0 (7, 40) -> (7, -30)
  line L1 (7, -30) -> (10, -30)
  line L2 (10, -30) -> (10, 43)
  line L3 (10, 43) -> (-70, 43)
  line L4 (-70, 43) -> (-70, -30)
  line L5 (-70, -30) -> (-67, -30)
  line L6 (-67, -30) -> (-67, 40)
  line L7 (-67, 40) -> (7, 40)
  line L8 (-70, 43) -> (10, 43)
  line L9 (10, 43) -> (10, -30)
  line L10 (10, -30) -> (-70, -30)
  line L11 (-70, -30) -> (-70, 43)
extrude "Extruir52" add sketch "Boceto34" against normal blind 3 contours L0 L6 L7 L10
equation "d46 = 6.8 mm - 3 mm"
equation "d53 = 4.56 mm - 3 mm + 3 mm"
equation "d99 = 20.686 mm - 5.5 mm"
equation "d116 = 21.186 mm - 5 mm"
equation "d119 = 21.186 mm - 5 mm"
equation "d126 = 16.186 * 0.5 mm"
equation "d127 = 13.000 * 0.5 mm"
equation "d136 = 5 mm - 2 mm"
equation "d138 = 5 mm - 2 mm"
equation "d140 = 6 mm - 3 mm"
equation "d142 = 6 mm - 3 mm"
